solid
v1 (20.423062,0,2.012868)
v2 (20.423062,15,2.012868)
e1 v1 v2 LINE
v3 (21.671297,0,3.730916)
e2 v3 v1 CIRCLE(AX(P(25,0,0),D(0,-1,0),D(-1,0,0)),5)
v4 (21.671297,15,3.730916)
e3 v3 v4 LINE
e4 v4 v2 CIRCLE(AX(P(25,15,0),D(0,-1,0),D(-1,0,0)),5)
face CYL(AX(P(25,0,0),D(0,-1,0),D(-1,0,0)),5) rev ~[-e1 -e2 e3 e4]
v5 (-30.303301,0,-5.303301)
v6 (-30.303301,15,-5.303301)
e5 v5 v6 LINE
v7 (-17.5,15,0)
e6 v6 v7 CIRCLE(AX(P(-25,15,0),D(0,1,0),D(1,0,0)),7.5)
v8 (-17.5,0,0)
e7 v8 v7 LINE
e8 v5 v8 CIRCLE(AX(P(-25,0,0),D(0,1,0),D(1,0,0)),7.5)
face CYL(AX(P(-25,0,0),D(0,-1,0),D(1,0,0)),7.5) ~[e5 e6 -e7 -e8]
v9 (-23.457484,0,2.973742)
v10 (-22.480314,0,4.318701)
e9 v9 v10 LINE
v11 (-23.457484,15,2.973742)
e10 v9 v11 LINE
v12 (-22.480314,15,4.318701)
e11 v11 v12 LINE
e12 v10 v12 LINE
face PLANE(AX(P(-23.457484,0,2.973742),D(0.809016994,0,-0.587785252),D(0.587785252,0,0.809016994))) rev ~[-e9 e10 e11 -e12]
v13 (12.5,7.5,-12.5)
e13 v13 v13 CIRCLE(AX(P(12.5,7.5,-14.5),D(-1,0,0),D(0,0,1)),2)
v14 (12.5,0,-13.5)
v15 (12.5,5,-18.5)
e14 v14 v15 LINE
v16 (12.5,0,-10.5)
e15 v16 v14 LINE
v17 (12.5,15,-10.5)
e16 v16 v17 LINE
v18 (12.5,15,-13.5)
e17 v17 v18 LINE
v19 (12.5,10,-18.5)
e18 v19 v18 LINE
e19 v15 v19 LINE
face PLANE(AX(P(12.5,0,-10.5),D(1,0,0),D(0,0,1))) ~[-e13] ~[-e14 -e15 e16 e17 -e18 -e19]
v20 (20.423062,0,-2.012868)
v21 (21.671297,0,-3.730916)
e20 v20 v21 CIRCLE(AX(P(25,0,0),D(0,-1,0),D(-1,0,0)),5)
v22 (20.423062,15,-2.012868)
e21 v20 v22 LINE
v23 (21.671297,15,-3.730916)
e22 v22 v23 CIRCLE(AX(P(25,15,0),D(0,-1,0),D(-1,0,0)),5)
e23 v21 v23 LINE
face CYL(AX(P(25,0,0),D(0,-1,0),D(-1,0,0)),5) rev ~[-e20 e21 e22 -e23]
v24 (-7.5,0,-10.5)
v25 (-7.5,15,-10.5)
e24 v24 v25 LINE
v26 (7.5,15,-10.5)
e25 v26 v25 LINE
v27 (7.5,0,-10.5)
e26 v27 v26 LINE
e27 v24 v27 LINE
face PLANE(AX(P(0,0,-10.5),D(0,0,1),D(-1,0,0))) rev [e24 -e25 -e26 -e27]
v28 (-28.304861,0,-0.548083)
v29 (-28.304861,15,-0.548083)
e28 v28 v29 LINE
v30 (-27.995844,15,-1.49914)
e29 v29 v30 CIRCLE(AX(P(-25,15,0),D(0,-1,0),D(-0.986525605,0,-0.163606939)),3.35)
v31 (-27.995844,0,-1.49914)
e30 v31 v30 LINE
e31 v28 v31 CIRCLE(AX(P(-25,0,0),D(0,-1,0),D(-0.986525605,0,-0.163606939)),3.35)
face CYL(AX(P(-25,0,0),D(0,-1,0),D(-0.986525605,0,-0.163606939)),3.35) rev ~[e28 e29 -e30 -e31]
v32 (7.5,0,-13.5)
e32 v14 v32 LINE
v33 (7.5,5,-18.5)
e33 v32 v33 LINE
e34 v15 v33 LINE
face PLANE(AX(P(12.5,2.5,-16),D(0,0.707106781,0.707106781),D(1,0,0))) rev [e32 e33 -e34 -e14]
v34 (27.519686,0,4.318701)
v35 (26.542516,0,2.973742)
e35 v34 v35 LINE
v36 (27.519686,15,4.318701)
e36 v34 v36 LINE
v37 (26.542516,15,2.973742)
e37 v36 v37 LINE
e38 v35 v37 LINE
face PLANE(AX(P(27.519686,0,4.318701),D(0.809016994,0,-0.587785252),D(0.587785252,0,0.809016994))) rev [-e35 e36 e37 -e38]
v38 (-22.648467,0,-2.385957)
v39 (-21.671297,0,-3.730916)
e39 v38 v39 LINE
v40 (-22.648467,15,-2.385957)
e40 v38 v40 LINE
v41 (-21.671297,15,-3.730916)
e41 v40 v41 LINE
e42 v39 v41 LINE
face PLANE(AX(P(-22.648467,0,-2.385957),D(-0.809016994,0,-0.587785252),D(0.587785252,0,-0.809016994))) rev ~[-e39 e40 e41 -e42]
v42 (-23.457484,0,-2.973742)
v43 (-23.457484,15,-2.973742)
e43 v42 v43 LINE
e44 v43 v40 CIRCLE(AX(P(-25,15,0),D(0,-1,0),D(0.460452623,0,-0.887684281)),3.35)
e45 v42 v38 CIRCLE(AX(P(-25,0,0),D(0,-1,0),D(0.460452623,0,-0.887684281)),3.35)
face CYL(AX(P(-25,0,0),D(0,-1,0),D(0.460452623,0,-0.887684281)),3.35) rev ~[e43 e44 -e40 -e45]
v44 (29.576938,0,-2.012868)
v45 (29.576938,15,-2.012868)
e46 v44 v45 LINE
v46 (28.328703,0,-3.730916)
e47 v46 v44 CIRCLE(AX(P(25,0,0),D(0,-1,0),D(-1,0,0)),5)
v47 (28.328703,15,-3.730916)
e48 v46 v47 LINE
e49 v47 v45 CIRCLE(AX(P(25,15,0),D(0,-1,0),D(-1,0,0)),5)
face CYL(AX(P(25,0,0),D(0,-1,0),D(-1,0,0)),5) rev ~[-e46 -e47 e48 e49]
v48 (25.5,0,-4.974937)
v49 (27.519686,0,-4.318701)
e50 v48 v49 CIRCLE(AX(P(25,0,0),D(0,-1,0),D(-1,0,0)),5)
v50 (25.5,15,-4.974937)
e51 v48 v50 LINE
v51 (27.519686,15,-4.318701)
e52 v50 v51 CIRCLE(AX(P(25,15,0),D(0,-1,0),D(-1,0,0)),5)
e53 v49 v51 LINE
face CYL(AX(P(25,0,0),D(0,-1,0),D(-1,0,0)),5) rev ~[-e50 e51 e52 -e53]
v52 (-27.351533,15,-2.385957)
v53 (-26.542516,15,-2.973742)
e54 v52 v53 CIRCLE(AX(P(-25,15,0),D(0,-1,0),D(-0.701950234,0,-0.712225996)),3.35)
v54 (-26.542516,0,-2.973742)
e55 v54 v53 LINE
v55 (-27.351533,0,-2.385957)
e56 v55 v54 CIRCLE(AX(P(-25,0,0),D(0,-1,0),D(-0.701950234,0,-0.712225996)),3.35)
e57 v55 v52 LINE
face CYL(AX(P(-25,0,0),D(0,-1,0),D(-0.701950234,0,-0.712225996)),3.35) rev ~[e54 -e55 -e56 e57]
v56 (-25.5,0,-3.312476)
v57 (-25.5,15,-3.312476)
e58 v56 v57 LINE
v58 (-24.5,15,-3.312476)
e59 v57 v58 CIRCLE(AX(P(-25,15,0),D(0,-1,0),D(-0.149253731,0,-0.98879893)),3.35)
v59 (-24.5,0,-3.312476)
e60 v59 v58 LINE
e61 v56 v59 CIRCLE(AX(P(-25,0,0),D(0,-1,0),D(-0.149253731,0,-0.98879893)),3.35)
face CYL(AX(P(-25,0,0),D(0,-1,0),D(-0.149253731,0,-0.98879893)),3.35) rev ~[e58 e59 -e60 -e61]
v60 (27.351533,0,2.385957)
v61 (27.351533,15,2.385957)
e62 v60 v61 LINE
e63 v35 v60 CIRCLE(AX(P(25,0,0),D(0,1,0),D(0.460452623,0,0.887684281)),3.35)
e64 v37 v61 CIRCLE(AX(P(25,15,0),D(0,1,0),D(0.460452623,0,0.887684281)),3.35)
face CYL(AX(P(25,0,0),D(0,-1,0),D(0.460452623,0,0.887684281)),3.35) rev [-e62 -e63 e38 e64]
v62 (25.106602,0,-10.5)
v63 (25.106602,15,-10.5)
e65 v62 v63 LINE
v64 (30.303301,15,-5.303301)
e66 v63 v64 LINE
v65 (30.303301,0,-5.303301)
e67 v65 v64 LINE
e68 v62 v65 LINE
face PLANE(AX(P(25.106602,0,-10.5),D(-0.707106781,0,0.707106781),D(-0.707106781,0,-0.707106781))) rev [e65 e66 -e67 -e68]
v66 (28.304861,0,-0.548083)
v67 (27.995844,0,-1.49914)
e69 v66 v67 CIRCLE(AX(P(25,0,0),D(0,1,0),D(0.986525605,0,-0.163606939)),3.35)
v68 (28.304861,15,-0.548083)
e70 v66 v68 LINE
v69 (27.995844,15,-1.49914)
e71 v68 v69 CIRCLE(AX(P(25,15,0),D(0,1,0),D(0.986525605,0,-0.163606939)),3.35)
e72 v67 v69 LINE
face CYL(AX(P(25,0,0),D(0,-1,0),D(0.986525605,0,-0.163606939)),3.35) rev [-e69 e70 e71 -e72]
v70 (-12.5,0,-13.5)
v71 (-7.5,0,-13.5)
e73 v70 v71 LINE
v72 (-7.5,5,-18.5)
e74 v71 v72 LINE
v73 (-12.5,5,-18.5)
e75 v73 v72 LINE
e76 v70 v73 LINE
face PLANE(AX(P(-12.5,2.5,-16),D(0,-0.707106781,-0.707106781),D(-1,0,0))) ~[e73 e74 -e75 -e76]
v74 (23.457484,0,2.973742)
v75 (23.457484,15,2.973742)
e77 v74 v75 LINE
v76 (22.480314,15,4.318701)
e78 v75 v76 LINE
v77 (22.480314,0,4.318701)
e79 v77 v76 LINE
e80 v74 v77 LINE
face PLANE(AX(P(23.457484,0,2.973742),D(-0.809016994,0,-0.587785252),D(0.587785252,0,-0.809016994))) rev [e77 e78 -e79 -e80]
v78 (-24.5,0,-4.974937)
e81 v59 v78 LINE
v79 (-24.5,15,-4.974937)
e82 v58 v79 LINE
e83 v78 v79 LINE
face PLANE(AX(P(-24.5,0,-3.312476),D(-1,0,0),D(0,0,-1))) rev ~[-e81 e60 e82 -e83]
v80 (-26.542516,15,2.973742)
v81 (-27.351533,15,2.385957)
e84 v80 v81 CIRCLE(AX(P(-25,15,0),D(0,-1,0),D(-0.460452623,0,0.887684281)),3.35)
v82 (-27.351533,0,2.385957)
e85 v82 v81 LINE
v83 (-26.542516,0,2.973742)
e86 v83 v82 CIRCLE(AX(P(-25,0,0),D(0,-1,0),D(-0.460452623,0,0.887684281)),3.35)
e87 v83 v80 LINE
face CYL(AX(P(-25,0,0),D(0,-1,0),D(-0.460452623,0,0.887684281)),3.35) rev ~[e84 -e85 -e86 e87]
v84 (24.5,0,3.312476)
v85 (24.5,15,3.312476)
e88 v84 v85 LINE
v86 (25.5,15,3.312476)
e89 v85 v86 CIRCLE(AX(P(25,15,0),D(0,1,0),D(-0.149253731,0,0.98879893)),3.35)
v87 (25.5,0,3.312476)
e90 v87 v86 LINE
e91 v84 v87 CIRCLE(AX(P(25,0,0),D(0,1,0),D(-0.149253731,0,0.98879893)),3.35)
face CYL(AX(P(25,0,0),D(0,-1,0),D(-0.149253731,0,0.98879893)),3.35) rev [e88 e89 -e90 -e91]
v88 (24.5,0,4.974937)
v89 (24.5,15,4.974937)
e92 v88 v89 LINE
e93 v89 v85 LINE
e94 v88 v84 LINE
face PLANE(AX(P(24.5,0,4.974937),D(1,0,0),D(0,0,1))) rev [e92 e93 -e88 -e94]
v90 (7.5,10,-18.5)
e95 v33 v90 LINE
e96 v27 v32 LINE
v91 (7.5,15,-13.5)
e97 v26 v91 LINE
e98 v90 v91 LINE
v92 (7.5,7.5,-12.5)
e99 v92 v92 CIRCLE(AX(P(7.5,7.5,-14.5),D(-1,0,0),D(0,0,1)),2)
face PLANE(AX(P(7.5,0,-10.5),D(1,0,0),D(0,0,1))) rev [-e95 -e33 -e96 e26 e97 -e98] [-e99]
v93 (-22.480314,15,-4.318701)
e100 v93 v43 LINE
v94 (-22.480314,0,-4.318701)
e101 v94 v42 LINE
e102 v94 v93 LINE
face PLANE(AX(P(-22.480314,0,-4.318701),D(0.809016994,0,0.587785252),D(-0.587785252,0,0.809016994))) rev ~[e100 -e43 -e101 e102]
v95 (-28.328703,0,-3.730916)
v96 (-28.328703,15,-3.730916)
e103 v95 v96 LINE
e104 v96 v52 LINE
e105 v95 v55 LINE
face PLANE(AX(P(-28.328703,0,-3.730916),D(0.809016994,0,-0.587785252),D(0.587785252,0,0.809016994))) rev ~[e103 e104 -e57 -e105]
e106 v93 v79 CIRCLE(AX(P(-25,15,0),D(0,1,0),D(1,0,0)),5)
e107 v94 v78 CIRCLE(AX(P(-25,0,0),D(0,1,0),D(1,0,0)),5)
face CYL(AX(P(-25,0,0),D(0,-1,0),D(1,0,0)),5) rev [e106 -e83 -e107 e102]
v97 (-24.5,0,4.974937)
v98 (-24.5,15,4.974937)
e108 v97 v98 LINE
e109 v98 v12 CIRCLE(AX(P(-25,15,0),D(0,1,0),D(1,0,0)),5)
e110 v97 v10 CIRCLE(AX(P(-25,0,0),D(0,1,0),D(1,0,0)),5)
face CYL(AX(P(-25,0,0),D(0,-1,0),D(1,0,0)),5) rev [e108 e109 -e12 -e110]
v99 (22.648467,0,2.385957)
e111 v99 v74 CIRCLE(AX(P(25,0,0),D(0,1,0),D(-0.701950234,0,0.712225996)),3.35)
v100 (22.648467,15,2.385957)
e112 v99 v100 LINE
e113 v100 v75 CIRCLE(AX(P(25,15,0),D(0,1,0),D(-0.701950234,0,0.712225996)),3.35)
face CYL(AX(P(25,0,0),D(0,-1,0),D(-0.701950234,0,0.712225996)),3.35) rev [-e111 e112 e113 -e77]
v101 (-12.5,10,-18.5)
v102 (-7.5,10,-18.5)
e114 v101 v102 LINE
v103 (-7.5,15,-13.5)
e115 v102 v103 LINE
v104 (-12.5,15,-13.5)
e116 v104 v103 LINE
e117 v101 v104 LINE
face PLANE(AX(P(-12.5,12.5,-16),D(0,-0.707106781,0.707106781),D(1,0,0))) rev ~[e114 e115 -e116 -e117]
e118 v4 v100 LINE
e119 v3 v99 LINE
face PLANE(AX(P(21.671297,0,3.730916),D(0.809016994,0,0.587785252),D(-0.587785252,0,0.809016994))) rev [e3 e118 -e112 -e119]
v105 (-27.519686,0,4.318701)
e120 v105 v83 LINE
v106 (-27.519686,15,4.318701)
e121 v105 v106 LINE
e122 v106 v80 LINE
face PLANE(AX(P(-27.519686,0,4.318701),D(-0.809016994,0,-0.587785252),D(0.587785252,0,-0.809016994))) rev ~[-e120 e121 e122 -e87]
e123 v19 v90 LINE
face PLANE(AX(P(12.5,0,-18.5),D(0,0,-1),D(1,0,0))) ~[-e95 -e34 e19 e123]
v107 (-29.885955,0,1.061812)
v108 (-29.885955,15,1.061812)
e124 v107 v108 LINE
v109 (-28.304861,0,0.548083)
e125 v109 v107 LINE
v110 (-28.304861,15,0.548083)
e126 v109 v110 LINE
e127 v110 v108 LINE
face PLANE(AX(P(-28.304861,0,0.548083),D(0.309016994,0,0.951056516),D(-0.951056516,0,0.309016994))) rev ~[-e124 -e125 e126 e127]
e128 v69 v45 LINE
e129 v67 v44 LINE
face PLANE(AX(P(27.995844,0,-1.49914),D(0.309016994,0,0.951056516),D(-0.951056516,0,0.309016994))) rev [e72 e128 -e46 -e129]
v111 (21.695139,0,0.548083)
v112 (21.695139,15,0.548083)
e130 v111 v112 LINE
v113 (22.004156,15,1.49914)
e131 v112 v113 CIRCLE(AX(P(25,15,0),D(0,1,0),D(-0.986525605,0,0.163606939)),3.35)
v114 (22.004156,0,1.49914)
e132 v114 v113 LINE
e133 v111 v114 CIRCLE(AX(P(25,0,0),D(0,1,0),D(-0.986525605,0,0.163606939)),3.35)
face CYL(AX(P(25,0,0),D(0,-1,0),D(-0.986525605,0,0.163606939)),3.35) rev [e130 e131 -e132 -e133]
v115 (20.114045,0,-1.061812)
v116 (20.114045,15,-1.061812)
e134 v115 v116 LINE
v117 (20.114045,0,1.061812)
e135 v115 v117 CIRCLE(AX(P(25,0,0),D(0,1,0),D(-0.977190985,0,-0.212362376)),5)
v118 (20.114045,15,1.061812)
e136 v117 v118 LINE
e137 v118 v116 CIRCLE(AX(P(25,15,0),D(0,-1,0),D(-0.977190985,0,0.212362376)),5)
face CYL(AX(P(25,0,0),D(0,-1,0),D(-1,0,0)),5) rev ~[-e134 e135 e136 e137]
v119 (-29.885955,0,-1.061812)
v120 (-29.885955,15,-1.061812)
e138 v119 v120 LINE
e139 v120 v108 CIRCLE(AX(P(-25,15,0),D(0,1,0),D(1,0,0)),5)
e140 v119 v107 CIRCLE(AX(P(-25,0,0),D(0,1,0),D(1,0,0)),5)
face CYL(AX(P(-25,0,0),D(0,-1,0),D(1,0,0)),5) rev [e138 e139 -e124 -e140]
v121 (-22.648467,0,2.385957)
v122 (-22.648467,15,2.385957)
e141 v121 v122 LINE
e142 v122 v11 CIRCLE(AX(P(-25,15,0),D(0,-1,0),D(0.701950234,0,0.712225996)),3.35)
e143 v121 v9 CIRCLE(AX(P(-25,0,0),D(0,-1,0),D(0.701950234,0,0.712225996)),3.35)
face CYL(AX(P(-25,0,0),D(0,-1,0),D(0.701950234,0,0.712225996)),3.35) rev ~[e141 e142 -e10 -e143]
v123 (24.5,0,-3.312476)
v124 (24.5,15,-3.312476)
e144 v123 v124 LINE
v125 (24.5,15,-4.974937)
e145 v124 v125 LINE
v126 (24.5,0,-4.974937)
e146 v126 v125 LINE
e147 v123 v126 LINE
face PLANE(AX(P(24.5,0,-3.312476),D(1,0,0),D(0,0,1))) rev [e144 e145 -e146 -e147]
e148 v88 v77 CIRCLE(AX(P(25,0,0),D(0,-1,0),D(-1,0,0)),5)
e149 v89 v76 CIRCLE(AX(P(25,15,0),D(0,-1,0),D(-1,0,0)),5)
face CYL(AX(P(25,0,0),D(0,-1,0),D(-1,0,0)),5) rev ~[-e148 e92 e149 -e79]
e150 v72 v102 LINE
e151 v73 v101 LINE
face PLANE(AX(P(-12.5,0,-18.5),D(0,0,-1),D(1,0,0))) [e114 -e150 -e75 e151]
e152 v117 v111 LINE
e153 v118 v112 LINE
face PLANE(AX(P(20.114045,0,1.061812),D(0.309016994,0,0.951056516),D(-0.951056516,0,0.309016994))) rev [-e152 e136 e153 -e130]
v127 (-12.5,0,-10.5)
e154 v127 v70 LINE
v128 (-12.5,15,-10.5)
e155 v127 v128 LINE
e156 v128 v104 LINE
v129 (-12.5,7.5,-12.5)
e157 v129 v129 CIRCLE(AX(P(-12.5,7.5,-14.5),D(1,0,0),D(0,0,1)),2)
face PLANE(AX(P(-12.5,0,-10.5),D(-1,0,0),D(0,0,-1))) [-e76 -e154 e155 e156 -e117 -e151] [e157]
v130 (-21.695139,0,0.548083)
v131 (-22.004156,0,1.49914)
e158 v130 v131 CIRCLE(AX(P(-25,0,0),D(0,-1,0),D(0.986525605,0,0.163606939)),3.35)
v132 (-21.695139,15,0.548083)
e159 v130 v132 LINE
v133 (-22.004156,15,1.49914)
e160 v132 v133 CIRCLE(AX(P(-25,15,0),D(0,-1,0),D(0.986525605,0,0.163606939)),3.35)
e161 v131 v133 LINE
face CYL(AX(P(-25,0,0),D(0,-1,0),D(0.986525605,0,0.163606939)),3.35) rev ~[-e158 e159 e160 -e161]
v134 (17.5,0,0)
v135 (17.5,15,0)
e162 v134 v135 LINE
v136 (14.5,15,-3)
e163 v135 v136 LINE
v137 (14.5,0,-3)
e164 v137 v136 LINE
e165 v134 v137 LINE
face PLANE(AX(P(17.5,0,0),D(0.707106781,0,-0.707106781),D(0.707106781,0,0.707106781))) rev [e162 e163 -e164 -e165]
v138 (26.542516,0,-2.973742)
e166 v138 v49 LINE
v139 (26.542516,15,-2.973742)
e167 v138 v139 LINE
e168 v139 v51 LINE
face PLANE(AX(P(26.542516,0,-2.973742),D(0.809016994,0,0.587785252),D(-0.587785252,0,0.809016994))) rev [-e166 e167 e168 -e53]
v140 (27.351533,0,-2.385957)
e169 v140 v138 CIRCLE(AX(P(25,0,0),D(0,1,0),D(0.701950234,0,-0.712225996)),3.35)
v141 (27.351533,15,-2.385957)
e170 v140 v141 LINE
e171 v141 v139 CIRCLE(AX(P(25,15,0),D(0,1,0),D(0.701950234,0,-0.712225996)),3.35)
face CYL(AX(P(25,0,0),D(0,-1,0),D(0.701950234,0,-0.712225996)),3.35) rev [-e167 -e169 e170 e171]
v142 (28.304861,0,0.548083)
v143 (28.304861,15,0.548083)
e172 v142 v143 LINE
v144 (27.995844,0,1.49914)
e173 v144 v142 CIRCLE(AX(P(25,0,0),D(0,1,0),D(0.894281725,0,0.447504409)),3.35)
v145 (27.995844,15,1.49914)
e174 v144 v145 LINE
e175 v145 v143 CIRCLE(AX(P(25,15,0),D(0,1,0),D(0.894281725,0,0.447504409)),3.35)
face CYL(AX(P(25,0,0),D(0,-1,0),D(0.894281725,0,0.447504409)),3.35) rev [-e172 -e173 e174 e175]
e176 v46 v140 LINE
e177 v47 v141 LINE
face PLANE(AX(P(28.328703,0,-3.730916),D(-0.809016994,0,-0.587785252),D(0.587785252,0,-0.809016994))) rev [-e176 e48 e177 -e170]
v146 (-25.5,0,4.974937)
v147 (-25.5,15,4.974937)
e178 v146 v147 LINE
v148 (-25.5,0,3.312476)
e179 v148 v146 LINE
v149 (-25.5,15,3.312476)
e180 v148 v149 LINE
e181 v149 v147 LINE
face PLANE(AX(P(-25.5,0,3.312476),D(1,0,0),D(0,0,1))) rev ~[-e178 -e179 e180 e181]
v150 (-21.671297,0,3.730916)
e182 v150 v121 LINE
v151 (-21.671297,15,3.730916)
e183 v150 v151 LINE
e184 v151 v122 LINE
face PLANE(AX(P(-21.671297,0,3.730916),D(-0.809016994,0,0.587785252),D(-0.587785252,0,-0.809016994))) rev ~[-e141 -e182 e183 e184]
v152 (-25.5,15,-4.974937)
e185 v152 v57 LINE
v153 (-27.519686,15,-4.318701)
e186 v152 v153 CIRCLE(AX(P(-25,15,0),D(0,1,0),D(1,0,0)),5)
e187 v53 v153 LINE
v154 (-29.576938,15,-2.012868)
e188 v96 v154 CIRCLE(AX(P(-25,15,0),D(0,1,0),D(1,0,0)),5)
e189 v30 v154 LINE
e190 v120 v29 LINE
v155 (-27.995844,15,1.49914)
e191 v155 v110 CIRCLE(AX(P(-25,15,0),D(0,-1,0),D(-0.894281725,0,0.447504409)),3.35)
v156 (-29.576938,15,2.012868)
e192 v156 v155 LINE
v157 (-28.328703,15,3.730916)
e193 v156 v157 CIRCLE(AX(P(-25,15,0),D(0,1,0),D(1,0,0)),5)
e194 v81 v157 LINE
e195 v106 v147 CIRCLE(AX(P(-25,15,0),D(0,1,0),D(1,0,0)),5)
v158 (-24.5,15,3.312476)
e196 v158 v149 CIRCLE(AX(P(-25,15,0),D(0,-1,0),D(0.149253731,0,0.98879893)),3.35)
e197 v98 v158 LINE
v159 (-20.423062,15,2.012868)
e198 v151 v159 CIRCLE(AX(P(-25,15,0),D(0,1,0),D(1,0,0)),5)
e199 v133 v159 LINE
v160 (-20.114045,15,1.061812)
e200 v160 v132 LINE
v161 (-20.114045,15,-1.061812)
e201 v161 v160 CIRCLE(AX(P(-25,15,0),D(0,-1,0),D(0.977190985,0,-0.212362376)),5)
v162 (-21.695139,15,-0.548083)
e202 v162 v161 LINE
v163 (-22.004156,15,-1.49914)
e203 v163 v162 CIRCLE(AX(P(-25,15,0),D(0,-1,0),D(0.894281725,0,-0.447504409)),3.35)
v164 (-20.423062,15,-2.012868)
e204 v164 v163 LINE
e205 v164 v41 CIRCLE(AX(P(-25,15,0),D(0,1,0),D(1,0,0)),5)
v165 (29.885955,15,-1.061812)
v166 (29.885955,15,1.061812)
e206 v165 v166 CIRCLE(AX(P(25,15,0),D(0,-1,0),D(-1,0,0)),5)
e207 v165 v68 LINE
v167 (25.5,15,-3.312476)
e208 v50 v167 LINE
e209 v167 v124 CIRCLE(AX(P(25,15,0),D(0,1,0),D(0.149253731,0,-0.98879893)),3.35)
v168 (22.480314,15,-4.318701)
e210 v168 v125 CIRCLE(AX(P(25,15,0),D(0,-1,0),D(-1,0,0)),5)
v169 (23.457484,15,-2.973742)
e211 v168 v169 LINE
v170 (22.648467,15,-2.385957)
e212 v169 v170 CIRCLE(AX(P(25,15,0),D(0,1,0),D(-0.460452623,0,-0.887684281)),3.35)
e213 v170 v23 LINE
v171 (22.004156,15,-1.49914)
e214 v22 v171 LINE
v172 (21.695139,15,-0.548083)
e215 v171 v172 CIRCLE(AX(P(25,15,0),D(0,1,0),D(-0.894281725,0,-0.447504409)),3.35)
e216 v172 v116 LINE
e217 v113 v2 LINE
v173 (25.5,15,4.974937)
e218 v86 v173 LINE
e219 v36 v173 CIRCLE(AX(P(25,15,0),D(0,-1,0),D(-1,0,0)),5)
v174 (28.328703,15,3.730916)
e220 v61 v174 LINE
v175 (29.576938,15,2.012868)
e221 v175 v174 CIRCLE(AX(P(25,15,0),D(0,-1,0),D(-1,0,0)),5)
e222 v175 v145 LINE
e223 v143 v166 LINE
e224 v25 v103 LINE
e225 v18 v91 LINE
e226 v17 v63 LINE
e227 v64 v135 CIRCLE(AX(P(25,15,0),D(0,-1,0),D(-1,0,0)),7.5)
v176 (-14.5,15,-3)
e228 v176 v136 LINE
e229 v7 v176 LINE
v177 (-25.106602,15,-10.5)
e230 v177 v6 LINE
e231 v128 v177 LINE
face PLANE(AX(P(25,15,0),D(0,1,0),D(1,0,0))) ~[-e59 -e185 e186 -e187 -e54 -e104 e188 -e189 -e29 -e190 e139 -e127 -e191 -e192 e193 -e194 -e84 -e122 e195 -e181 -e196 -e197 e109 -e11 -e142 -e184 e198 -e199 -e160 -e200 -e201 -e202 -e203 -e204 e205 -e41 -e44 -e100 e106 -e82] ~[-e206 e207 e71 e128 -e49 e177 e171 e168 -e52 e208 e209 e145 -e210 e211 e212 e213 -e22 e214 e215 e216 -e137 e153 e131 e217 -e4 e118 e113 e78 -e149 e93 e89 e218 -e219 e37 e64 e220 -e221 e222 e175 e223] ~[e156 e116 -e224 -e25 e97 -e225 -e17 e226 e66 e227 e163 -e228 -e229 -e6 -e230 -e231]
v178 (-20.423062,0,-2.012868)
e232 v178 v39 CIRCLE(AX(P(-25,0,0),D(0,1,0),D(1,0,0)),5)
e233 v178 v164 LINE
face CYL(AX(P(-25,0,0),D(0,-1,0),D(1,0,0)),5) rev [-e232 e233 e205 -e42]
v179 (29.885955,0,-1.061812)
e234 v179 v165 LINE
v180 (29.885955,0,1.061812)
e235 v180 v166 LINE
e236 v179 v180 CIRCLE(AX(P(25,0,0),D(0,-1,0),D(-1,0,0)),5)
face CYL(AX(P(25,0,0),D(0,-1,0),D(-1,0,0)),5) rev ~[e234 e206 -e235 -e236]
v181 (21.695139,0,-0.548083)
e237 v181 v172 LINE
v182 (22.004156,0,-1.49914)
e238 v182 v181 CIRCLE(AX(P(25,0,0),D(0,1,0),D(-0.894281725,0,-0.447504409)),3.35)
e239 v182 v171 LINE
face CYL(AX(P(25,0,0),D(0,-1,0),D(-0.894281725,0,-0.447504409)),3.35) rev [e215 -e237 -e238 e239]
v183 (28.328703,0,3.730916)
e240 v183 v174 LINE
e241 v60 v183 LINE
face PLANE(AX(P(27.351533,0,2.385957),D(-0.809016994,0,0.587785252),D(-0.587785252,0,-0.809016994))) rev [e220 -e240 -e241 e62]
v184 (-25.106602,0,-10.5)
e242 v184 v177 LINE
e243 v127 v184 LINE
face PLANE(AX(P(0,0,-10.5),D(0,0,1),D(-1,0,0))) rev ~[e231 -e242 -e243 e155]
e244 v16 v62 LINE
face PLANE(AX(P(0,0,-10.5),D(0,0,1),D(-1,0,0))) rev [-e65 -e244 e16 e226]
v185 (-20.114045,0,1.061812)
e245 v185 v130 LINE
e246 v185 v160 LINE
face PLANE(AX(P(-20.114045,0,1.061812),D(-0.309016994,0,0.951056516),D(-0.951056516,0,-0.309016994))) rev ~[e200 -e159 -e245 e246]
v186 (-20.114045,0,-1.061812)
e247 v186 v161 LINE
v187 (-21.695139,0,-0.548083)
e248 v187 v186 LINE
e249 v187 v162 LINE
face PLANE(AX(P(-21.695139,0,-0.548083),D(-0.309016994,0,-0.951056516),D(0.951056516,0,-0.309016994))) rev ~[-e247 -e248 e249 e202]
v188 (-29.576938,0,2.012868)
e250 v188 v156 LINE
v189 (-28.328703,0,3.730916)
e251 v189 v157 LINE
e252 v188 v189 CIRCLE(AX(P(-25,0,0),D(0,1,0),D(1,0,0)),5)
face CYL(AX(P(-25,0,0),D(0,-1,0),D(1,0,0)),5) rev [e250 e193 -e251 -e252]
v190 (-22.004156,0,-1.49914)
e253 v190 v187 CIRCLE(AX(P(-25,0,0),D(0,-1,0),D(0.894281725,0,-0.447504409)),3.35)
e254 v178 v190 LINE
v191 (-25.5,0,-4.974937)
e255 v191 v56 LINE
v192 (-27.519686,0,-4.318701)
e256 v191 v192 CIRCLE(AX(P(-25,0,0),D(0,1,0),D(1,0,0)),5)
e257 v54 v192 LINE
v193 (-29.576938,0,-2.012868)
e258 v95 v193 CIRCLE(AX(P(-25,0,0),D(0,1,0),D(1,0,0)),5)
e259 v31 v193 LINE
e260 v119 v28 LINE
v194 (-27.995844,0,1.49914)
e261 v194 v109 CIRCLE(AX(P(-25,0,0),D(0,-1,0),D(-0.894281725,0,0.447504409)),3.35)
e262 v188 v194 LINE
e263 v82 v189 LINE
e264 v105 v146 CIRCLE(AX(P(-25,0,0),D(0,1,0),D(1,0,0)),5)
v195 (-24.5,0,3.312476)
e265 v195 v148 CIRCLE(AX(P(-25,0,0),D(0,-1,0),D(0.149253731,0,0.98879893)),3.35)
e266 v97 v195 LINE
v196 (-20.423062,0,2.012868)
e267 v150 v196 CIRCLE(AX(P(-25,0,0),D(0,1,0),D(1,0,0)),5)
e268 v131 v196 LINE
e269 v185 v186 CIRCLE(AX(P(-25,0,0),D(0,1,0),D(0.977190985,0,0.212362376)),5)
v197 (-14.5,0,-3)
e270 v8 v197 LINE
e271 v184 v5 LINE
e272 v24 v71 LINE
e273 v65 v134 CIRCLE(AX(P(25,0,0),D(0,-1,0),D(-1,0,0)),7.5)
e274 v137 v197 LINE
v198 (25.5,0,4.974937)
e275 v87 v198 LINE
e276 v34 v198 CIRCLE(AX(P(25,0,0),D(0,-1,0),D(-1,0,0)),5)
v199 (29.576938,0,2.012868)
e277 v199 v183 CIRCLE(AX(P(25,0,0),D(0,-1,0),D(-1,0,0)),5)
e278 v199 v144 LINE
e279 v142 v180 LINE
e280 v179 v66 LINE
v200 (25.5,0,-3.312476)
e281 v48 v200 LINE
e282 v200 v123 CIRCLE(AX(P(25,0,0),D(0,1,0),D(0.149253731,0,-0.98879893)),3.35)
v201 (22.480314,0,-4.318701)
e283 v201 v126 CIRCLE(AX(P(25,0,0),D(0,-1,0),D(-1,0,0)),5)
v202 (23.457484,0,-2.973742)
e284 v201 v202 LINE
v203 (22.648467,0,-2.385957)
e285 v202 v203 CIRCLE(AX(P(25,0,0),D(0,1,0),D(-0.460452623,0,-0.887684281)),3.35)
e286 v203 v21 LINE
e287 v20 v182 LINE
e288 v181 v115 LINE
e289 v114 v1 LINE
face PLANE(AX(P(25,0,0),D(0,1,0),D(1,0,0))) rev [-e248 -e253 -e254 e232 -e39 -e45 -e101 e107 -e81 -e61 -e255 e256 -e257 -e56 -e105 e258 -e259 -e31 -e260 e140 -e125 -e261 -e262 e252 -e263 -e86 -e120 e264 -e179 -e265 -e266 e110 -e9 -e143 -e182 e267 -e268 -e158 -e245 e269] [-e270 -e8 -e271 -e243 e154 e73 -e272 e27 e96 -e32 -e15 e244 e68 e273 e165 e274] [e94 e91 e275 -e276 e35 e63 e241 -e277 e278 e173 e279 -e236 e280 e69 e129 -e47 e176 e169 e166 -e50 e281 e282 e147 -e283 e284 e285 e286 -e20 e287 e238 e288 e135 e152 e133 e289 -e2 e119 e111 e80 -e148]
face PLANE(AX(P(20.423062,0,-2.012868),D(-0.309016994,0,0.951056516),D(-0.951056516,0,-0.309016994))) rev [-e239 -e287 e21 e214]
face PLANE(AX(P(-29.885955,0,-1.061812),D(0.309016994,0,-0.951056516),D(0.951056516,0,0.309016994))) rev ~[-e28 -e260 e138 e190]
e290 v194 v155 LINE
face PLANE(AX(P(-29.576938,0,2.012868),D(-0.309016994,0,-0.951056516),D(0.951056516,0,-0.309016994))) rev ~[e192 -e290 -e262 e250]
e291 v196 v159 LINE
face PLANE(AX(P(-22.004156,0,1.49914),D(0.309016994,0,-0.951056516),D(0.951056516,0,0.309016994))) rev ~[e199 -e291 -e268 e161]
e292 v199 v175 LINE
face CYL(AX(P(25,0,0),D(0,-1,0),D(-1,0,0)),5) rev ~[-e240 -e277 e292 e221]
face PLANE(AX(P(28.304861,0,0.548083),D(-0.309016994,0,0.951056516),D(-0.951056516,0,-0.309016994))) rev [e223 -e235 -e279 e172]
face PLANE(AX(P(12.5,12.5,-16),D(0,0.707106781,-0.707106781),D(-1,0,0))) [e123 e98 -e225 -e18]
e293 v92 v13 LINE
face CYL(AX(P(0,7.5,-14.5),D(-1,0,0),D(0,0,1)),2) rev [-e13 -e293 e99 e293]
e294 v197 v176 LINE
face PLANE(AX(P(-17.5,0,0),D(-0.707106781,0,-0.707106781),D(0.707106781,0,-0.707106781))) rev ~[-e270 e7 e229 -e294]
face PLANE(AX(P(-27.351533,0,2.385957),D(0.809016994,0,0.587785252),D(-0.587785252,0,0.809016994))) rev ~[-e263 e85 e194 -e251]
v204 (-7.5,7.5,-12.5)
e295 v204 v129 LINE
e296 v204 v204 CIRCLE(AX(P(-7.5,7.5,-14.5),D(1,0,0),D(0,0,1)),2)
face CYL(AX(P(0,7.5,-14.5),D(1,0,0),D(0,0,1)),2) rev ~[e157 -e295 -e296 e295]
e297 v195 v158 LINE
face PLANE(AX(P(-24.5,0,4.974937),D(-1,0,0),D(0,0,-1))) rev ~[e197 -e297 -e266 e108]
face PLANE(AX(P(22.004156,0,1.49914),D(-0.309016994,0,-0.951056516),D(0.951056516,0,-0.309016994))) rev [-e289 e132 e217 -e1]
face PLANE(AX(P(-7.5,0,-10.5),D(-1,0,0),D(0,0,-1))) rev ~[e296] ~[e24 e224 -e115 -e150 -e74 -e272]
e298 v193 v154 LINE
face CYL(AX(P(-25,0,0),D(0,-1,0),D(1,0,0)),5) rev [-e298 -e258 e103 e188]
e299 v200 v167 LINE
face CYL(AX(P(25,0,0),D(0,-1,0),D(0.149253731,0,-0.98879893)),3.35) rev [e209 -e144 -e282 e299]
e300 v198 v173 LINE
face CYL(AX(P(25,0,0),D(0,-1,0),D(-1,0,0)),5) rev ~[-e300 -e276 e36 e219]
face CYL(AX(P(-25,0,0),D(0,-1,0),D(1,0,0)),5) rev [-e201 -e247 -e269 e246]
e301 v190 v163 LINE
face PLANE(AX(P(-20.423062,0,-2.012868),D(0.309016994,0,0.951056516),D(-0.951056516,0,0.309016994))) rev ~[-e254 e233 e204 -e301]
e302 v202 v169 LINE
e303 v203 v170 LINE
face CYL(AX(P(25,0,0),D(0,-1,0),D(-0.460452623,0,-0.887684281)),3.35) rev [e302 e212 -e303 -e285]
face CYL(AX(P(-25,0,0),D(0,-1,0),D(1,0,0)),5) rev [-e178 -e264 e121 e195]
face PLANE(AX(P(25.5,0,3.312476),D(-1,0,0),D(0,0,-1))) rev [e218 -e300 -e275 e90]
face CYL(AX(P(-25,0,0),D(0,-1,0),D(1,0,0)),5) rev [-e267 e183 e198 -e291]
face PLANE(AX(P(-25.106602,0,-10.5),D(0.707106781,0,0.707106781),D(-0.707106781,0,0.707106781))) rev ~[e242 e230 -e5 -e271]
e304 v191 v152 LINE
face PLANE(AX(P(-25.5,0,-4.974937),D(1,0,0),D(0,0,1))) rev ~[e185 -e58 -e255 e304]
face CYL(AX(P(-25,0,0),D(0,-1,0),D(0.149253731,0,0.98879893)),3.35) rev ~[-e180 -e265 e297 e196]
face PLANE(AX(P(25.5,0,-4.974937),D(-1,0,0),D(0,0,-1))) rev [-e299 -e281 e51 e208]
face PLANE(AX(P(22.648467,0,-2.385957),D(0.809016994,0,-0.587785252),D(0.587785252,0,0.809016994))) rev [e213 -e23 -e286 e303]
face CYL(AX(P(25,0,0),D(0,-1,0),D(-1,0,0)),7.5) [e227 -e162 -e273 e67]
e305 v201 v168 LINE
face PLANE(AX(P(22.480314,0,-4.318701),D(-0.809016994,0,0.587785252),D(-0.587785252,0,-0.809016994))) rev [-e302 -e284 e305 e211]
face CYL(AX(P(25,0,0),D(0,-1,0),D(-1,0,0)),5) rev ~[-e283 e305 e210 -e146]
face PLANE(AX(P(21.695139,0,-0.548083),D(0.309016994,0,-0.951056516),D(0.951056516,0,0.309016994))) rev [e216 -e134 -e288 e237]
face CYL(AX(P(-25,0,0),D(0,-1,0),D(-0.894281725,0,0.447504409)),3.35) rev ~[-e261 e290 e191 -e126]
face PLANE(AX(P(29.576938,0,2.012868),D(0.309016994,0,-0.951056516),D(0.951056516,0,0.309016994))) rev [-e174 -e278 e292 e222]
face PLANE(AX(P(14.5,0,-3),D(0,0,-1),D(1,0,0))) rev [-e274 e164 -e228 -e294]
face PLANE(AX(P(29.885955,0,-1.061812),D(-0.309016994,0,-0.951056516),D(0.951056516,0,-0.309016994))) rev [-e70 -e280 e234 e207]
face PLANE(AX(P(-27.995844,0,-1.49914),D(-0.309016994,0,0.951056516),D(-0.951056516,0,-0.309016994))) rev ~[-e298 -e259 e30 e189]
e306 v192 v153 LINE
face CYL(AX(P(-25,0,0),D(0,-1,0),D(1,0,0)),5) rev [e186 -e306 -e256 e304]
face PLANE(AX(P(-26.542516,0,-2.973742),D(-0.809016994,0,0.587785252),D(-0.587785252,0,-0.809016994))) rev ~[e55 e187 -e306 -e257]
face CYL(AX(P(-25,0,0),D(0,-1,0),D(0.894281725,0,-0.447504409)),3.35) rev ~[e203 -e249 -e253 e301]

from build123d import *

# Parameters (mm, degrees)
SKETCH1_R                      = 7.5
SKETCH1_R_2                    = 5
SKETCH1_W                      = 5
SKETCH1_H                      = 8
BOSS_EXTRUDE1_DEPTH            = 15
CHAMFER1_SIZE                  = 5
CUT_EXTRUDE1_REACH             = 42.293
SKETCH3_R                      = 2
CUT_EXTRUDE1_DIRECTION_2_REACH = 42.293


with BuildPart() as part:
    # Sketch1 → Boss-Extrude1 (new body)
    # profile 1 of 13: a face of its own
    with BuildSketch(Plane(origin=(0, 0, 0), x_dir=(1, 0, 0), z_dir=(0, 1, 0))):
        with Locations((-25, 0)):
            Circle(SKETCH1_R)
        with Locations((-25, 0)):
            Circle(SKETCH1_R_2, mode=Mode.SUBTRACT)
    # profile 2 of 13: a face of its own
    with BuildSketch(Plane(origin=(0, 0, 0), x_dir=(1, 0, 0), z_dir=(0, 1, 0))):
        with BuildLine():
            Line((-27.995843782, 1.499139764), (-29.576937931, 2.012868394))
            ThreePointArc((-29.576937931, 2.012868394), (-29.755282581, 1.545084972), (-29.885954926, 1.061811878))
            Line((-29.885954926, 1.061811878), (-28.304860777, 0.548083248))
            ThreePointArc((-28.304860777, 0.548083248), (-28.18603933, 1.035206931), (-27.995843782, 1.499139764))
        make_face()
    # profile 3 of 13: a face of its own
    with BuildSketch(Plane(origin=(0, 0, 0), x_dir=(1, 0, 0), z_dir=(0, 1, 0))):
        with BuildLine():
            Line((-28.304860777, -0.548083248), (-29.885954926, -1.061811878))
            ThreePointArc((-29.885954926, -1.061811878), (-29.755282581, -1.545084972), (-29.576937931, -2.012868394))
            Line((-29.576937931, -2.012868394), (-27.995843782, -1.499139764))
            ThreePointArc((-27.995843782, -1.499139764), (-28.18603933, -1.035206931), (-28.304860777, -0.548083248))
        make_face()
    # profile 4 of 13: a face of its own
    with BuildSketch(Plane(origin=(0, 0, 0), x_dir=(1, 0, 0), z_dir=(0, 1, 0))):
        with BuildLine():
            Line((-27.351533282, -2.385957087), (-28.328703206, -3.730916103))
            ThreePointArc((-28.328703206, -3.730916103), (-27.938926261, -4.045084972), (-27.519686212, -4.318701355))
            Line((-27.519686212, -4.318701355), (-26.542516288, -2.973742339))
            ThreePointArc((-26.542516288, -2.973742339), (-26.969080595, -2.710206931), (-27.351533282, -2.385957087))
        make_face()
    # profile 5 of 13: a face of its own
    with BuildSketch(Plane(origin=(0, 0, 0), x_dir=(1, 0, 0), z_dir=(0, 1, 0))):
        with BuildLine():
            Line((-25.5, -3.312476415), (-25.5, -4.974937186))
            ThreePointArc((-25.5, -4.974937186), (-25, -5), (-24.5, -4.974937186))
            Line((-24.5, -4.974937186), (-24.5, -3.312476415))
            ThreePointArc((-24.5, -3.312476415), (-25, -3.35), (-25.5, -3.312476415))
        make_face()
    # profile 6 of 13: a face of its own
    with BuildSketch(Plane(origin=(0, 0, 0), x_dir=(1, 0, 0), z_dir=(0, 1, 0))):
        with BuildLine():
            ThreePointArc((-22.480313788, -4.318701355), (-22.061073739, -4.045084972), (-21.671296794, -3.730916103))
            Line((-21.671296794, -3.730916103), (-22.648466718, -2.385957087))
            ThreePointArc((-22.648466718, -2.385957087), (-23.030919405, -2.710206931), (-23.457483712, -2.973742339))
            Line((-23.457483712, -2.973742339), (-22.480313788, -4.318701355))
        make_face()
    # profile 7 of 13: a face of its own
    with BuildSketch(Plane(origin=(0, 0, 0), x_dir=(1, 0, 0), z_dir=(0, 1, 0))):
        with BuildLine():
            ThreePointArc((-20.423062069, -2.012868394), (-20.244717419, -1.545084972), (-20.114045074, -1.061811878))
            Line((-20.114045074, -1.061811878), (-21.695139223, -0.548083248))
            ThreePointArc((-21.695139223, -0.548083248), (-21.81396067, -1.035206931), (-22.004156218, -1.499139764))
            Line((-22.004156218, -1.499139764), (-20.423062069, -2.012868394))
        make_face()
    # profile 8 of 13: a face of its own
    with BuildSketch(Plane(origin=(0, 0, 0), x_dir=(1, 0, 0), z_dir=(0, 1, 0))):
        with BuildLine():
            ThreePointArc((-20.114045074, 1.061811878), (-20.244717419, 1.545084972), (-20.423062069, 2.012868394))
            Line((-20.423062069, 2.012868394), (-22.004156218, 1.499139764))
            ThreePointArc((-22.004156218, 1.499139764), (-21.81396067, 1.035206931), (-21.695139223, 0.548083248))
            Line((-21.695139223, 0.548083248), (-20.114045074, 1.061811878))
        make_face()
    # profile 9 of 13: a face of its own
    with BuildSketch(Plane(origin=(0, 0, 0), x_dir=(1, 0, 0), z_dir=(0, 1, 0))):
        with BuildLine():
            ThreePointArc((-21.671296794, 3.730916103), (-22.061073739, 4.045084972), (-22.480313788, 4.318701355))
            Line((-22.480313788, 4.318701355), (-23.457483712, 2.973742339))
            ThreePointArc((-23.457483712, 2.973742339), (-23.030919405, 2.710206931), (-22.648466718, 2.385957087))
            Line((-22.648466718, 2.385957087), (-21.671296794, 3.730916103))
        make_face()
    # profile 10 of 13: a face of its own
    with BuildSketch(Plane(origin=(0, 0, 0), x_dir=(1, 0, 0), z_dir=(0, 1, 0))):
        with BuildLine():
            ThreePointArc((-24.5, 4.974937186), (-25, 5), (-25.5, 4.974937186))
            Line((-25.5, 4.974937186), (-25.5, 3.312476415))
            ThreePointArc((-25.5, 3.312476415), (-25, 3.35), (-24.5, 3.312476415))
            Line((-24.5, 3.312476415), (-24.5, 4.974937186))
        make_face()
    # profile 11 of 13: a face of its own
    with BuildSketch(Plane(origin=(0, 0, 0), x_dir=(1, 0, 0), z_dir=(0, 1, 0))):
        with BuildLine():
            Line((-26.542516288, 2.973742339), (-27.519686212, 4.318701355))
            ThreePointArc((-27.519686212, 4.318701355), (-27.938926261, 4.045084972), (-28.328703206, 3.730916103))
            Line((-28.328703206, 3.730916103), (-27.351533282, 2.385957087))
            ThreePointArc((-27.351533282, 2.385957087), (-26.969080595, 2.710206931), (-26.542516288, 2.973742339))
        make_face()
    # profile 12 of 13: a face of its own
    with BuildSketch(Plane(origin=(0, 0, 0), x_dir=(1, 0, 0), z_dir=(0, 1, 0))):
        with BuildLine():
            Line((-25.106601718, 10.5), (-30.303300859, 5.303300859))
            ThreePointArc((-30.303300859, 5.303300859), (-22.129874257, 6.929096494), (-17.5, 0))
            Line((-17.5, 0), (-14.5, 3))
            Line((-14.5, 3), (0, 3))
            Line((0, 3), (0, 10.5))
            Line((0, 10.5), (-7.5, 10.5))
            Line((-7.5, 10.5), (-12.5, 10.5))
            Line((-12.5, 10.5), (-25.106601718, 10.5))
        make_face()
    # profile 13 of 13: a face of its own
    with BuildSketch(Plane(origin=(0, 0, 0), x_dir=(1, 0, 0), z_dir=(0, 1, 0))):
        with Locations((-10, 14.5)):
            Rectangle(SKETCH1_W, SKETCH1_H)
    boss_extrude1 = extrude(amount=BOSS_EXTRUDE1_DEPTH)

    # Mirror1: Boss-Extrude1 across plane
    add(boss_extrude1.mirror(Plane(origin=(0, 0, 0), x_dir=(0, 0, 1), z_dir=(1, 0, 0))))

    # Chamfer1
    chamfer1_edges = [part.edges().sort_by_distance(p)[0] for p in [
        (10, 15, -18.5),
        (10, 0, -18.5),
        (-10, 15, -18.5),
        (-10, 0, -18.5),
    ]]
    chamfer(chamfer1_edges, length=CHAMFER1_SIZE)

    # Sketch3 → Cut-Extrude1 (cut, up to next)
    with BuildSketch(Plane(origin=(0, 0, 0), x_dir=(0, 0, -1), z_dir=(1, 0, 0)), mode=Mode.PRIVATE) as cut_extrude1_sk1:
        with Locations(Location((14.5, 7.5, 0), (0, 0, 180))):
            Circle(SKETCH3_R)
    cut_extrude1_tool1 = extrude(cut_extrude1_sk1.sketch, amount=-CUT_EXTRUDE1_REACH, mode=Mode.PRIVATE) & part.part
    add(cut_extrude1_tool1.solids().sort_by_distance((0, 7.5, -14.5))[0], mode=Mode.SUBTRACT)

    # Sketch3 → Cut-Extrude1 direction 2 (cut, up to next)
    with BuildSketch(Plane(origin=(0, 0, 0), x_dir=(0, 0, -1), z_dir=(1, 0, 0)), mode=Mode.PRIVATE) as cut_extrude1_direction_2_sk1:
        with Locations(Location((14.5, 7.5, 0), (0, 0, 180))):
            Circle(SKETCH3_R)
    cut_extrude1_direction_2_tool1 = extrude(cut_extrude1_direction_2_sk1.sketch, amount=CUT_EXTRUDE1_DIRECTION_2_REACH, mode=Mode.PRIVATE) & part.part
    add(cut_extrude1_direction_2_tool1.solids().sort_by_distance((0, 7.5, -14.5))[0], mode=Mode.SUBTRACT)


solid = part.part
